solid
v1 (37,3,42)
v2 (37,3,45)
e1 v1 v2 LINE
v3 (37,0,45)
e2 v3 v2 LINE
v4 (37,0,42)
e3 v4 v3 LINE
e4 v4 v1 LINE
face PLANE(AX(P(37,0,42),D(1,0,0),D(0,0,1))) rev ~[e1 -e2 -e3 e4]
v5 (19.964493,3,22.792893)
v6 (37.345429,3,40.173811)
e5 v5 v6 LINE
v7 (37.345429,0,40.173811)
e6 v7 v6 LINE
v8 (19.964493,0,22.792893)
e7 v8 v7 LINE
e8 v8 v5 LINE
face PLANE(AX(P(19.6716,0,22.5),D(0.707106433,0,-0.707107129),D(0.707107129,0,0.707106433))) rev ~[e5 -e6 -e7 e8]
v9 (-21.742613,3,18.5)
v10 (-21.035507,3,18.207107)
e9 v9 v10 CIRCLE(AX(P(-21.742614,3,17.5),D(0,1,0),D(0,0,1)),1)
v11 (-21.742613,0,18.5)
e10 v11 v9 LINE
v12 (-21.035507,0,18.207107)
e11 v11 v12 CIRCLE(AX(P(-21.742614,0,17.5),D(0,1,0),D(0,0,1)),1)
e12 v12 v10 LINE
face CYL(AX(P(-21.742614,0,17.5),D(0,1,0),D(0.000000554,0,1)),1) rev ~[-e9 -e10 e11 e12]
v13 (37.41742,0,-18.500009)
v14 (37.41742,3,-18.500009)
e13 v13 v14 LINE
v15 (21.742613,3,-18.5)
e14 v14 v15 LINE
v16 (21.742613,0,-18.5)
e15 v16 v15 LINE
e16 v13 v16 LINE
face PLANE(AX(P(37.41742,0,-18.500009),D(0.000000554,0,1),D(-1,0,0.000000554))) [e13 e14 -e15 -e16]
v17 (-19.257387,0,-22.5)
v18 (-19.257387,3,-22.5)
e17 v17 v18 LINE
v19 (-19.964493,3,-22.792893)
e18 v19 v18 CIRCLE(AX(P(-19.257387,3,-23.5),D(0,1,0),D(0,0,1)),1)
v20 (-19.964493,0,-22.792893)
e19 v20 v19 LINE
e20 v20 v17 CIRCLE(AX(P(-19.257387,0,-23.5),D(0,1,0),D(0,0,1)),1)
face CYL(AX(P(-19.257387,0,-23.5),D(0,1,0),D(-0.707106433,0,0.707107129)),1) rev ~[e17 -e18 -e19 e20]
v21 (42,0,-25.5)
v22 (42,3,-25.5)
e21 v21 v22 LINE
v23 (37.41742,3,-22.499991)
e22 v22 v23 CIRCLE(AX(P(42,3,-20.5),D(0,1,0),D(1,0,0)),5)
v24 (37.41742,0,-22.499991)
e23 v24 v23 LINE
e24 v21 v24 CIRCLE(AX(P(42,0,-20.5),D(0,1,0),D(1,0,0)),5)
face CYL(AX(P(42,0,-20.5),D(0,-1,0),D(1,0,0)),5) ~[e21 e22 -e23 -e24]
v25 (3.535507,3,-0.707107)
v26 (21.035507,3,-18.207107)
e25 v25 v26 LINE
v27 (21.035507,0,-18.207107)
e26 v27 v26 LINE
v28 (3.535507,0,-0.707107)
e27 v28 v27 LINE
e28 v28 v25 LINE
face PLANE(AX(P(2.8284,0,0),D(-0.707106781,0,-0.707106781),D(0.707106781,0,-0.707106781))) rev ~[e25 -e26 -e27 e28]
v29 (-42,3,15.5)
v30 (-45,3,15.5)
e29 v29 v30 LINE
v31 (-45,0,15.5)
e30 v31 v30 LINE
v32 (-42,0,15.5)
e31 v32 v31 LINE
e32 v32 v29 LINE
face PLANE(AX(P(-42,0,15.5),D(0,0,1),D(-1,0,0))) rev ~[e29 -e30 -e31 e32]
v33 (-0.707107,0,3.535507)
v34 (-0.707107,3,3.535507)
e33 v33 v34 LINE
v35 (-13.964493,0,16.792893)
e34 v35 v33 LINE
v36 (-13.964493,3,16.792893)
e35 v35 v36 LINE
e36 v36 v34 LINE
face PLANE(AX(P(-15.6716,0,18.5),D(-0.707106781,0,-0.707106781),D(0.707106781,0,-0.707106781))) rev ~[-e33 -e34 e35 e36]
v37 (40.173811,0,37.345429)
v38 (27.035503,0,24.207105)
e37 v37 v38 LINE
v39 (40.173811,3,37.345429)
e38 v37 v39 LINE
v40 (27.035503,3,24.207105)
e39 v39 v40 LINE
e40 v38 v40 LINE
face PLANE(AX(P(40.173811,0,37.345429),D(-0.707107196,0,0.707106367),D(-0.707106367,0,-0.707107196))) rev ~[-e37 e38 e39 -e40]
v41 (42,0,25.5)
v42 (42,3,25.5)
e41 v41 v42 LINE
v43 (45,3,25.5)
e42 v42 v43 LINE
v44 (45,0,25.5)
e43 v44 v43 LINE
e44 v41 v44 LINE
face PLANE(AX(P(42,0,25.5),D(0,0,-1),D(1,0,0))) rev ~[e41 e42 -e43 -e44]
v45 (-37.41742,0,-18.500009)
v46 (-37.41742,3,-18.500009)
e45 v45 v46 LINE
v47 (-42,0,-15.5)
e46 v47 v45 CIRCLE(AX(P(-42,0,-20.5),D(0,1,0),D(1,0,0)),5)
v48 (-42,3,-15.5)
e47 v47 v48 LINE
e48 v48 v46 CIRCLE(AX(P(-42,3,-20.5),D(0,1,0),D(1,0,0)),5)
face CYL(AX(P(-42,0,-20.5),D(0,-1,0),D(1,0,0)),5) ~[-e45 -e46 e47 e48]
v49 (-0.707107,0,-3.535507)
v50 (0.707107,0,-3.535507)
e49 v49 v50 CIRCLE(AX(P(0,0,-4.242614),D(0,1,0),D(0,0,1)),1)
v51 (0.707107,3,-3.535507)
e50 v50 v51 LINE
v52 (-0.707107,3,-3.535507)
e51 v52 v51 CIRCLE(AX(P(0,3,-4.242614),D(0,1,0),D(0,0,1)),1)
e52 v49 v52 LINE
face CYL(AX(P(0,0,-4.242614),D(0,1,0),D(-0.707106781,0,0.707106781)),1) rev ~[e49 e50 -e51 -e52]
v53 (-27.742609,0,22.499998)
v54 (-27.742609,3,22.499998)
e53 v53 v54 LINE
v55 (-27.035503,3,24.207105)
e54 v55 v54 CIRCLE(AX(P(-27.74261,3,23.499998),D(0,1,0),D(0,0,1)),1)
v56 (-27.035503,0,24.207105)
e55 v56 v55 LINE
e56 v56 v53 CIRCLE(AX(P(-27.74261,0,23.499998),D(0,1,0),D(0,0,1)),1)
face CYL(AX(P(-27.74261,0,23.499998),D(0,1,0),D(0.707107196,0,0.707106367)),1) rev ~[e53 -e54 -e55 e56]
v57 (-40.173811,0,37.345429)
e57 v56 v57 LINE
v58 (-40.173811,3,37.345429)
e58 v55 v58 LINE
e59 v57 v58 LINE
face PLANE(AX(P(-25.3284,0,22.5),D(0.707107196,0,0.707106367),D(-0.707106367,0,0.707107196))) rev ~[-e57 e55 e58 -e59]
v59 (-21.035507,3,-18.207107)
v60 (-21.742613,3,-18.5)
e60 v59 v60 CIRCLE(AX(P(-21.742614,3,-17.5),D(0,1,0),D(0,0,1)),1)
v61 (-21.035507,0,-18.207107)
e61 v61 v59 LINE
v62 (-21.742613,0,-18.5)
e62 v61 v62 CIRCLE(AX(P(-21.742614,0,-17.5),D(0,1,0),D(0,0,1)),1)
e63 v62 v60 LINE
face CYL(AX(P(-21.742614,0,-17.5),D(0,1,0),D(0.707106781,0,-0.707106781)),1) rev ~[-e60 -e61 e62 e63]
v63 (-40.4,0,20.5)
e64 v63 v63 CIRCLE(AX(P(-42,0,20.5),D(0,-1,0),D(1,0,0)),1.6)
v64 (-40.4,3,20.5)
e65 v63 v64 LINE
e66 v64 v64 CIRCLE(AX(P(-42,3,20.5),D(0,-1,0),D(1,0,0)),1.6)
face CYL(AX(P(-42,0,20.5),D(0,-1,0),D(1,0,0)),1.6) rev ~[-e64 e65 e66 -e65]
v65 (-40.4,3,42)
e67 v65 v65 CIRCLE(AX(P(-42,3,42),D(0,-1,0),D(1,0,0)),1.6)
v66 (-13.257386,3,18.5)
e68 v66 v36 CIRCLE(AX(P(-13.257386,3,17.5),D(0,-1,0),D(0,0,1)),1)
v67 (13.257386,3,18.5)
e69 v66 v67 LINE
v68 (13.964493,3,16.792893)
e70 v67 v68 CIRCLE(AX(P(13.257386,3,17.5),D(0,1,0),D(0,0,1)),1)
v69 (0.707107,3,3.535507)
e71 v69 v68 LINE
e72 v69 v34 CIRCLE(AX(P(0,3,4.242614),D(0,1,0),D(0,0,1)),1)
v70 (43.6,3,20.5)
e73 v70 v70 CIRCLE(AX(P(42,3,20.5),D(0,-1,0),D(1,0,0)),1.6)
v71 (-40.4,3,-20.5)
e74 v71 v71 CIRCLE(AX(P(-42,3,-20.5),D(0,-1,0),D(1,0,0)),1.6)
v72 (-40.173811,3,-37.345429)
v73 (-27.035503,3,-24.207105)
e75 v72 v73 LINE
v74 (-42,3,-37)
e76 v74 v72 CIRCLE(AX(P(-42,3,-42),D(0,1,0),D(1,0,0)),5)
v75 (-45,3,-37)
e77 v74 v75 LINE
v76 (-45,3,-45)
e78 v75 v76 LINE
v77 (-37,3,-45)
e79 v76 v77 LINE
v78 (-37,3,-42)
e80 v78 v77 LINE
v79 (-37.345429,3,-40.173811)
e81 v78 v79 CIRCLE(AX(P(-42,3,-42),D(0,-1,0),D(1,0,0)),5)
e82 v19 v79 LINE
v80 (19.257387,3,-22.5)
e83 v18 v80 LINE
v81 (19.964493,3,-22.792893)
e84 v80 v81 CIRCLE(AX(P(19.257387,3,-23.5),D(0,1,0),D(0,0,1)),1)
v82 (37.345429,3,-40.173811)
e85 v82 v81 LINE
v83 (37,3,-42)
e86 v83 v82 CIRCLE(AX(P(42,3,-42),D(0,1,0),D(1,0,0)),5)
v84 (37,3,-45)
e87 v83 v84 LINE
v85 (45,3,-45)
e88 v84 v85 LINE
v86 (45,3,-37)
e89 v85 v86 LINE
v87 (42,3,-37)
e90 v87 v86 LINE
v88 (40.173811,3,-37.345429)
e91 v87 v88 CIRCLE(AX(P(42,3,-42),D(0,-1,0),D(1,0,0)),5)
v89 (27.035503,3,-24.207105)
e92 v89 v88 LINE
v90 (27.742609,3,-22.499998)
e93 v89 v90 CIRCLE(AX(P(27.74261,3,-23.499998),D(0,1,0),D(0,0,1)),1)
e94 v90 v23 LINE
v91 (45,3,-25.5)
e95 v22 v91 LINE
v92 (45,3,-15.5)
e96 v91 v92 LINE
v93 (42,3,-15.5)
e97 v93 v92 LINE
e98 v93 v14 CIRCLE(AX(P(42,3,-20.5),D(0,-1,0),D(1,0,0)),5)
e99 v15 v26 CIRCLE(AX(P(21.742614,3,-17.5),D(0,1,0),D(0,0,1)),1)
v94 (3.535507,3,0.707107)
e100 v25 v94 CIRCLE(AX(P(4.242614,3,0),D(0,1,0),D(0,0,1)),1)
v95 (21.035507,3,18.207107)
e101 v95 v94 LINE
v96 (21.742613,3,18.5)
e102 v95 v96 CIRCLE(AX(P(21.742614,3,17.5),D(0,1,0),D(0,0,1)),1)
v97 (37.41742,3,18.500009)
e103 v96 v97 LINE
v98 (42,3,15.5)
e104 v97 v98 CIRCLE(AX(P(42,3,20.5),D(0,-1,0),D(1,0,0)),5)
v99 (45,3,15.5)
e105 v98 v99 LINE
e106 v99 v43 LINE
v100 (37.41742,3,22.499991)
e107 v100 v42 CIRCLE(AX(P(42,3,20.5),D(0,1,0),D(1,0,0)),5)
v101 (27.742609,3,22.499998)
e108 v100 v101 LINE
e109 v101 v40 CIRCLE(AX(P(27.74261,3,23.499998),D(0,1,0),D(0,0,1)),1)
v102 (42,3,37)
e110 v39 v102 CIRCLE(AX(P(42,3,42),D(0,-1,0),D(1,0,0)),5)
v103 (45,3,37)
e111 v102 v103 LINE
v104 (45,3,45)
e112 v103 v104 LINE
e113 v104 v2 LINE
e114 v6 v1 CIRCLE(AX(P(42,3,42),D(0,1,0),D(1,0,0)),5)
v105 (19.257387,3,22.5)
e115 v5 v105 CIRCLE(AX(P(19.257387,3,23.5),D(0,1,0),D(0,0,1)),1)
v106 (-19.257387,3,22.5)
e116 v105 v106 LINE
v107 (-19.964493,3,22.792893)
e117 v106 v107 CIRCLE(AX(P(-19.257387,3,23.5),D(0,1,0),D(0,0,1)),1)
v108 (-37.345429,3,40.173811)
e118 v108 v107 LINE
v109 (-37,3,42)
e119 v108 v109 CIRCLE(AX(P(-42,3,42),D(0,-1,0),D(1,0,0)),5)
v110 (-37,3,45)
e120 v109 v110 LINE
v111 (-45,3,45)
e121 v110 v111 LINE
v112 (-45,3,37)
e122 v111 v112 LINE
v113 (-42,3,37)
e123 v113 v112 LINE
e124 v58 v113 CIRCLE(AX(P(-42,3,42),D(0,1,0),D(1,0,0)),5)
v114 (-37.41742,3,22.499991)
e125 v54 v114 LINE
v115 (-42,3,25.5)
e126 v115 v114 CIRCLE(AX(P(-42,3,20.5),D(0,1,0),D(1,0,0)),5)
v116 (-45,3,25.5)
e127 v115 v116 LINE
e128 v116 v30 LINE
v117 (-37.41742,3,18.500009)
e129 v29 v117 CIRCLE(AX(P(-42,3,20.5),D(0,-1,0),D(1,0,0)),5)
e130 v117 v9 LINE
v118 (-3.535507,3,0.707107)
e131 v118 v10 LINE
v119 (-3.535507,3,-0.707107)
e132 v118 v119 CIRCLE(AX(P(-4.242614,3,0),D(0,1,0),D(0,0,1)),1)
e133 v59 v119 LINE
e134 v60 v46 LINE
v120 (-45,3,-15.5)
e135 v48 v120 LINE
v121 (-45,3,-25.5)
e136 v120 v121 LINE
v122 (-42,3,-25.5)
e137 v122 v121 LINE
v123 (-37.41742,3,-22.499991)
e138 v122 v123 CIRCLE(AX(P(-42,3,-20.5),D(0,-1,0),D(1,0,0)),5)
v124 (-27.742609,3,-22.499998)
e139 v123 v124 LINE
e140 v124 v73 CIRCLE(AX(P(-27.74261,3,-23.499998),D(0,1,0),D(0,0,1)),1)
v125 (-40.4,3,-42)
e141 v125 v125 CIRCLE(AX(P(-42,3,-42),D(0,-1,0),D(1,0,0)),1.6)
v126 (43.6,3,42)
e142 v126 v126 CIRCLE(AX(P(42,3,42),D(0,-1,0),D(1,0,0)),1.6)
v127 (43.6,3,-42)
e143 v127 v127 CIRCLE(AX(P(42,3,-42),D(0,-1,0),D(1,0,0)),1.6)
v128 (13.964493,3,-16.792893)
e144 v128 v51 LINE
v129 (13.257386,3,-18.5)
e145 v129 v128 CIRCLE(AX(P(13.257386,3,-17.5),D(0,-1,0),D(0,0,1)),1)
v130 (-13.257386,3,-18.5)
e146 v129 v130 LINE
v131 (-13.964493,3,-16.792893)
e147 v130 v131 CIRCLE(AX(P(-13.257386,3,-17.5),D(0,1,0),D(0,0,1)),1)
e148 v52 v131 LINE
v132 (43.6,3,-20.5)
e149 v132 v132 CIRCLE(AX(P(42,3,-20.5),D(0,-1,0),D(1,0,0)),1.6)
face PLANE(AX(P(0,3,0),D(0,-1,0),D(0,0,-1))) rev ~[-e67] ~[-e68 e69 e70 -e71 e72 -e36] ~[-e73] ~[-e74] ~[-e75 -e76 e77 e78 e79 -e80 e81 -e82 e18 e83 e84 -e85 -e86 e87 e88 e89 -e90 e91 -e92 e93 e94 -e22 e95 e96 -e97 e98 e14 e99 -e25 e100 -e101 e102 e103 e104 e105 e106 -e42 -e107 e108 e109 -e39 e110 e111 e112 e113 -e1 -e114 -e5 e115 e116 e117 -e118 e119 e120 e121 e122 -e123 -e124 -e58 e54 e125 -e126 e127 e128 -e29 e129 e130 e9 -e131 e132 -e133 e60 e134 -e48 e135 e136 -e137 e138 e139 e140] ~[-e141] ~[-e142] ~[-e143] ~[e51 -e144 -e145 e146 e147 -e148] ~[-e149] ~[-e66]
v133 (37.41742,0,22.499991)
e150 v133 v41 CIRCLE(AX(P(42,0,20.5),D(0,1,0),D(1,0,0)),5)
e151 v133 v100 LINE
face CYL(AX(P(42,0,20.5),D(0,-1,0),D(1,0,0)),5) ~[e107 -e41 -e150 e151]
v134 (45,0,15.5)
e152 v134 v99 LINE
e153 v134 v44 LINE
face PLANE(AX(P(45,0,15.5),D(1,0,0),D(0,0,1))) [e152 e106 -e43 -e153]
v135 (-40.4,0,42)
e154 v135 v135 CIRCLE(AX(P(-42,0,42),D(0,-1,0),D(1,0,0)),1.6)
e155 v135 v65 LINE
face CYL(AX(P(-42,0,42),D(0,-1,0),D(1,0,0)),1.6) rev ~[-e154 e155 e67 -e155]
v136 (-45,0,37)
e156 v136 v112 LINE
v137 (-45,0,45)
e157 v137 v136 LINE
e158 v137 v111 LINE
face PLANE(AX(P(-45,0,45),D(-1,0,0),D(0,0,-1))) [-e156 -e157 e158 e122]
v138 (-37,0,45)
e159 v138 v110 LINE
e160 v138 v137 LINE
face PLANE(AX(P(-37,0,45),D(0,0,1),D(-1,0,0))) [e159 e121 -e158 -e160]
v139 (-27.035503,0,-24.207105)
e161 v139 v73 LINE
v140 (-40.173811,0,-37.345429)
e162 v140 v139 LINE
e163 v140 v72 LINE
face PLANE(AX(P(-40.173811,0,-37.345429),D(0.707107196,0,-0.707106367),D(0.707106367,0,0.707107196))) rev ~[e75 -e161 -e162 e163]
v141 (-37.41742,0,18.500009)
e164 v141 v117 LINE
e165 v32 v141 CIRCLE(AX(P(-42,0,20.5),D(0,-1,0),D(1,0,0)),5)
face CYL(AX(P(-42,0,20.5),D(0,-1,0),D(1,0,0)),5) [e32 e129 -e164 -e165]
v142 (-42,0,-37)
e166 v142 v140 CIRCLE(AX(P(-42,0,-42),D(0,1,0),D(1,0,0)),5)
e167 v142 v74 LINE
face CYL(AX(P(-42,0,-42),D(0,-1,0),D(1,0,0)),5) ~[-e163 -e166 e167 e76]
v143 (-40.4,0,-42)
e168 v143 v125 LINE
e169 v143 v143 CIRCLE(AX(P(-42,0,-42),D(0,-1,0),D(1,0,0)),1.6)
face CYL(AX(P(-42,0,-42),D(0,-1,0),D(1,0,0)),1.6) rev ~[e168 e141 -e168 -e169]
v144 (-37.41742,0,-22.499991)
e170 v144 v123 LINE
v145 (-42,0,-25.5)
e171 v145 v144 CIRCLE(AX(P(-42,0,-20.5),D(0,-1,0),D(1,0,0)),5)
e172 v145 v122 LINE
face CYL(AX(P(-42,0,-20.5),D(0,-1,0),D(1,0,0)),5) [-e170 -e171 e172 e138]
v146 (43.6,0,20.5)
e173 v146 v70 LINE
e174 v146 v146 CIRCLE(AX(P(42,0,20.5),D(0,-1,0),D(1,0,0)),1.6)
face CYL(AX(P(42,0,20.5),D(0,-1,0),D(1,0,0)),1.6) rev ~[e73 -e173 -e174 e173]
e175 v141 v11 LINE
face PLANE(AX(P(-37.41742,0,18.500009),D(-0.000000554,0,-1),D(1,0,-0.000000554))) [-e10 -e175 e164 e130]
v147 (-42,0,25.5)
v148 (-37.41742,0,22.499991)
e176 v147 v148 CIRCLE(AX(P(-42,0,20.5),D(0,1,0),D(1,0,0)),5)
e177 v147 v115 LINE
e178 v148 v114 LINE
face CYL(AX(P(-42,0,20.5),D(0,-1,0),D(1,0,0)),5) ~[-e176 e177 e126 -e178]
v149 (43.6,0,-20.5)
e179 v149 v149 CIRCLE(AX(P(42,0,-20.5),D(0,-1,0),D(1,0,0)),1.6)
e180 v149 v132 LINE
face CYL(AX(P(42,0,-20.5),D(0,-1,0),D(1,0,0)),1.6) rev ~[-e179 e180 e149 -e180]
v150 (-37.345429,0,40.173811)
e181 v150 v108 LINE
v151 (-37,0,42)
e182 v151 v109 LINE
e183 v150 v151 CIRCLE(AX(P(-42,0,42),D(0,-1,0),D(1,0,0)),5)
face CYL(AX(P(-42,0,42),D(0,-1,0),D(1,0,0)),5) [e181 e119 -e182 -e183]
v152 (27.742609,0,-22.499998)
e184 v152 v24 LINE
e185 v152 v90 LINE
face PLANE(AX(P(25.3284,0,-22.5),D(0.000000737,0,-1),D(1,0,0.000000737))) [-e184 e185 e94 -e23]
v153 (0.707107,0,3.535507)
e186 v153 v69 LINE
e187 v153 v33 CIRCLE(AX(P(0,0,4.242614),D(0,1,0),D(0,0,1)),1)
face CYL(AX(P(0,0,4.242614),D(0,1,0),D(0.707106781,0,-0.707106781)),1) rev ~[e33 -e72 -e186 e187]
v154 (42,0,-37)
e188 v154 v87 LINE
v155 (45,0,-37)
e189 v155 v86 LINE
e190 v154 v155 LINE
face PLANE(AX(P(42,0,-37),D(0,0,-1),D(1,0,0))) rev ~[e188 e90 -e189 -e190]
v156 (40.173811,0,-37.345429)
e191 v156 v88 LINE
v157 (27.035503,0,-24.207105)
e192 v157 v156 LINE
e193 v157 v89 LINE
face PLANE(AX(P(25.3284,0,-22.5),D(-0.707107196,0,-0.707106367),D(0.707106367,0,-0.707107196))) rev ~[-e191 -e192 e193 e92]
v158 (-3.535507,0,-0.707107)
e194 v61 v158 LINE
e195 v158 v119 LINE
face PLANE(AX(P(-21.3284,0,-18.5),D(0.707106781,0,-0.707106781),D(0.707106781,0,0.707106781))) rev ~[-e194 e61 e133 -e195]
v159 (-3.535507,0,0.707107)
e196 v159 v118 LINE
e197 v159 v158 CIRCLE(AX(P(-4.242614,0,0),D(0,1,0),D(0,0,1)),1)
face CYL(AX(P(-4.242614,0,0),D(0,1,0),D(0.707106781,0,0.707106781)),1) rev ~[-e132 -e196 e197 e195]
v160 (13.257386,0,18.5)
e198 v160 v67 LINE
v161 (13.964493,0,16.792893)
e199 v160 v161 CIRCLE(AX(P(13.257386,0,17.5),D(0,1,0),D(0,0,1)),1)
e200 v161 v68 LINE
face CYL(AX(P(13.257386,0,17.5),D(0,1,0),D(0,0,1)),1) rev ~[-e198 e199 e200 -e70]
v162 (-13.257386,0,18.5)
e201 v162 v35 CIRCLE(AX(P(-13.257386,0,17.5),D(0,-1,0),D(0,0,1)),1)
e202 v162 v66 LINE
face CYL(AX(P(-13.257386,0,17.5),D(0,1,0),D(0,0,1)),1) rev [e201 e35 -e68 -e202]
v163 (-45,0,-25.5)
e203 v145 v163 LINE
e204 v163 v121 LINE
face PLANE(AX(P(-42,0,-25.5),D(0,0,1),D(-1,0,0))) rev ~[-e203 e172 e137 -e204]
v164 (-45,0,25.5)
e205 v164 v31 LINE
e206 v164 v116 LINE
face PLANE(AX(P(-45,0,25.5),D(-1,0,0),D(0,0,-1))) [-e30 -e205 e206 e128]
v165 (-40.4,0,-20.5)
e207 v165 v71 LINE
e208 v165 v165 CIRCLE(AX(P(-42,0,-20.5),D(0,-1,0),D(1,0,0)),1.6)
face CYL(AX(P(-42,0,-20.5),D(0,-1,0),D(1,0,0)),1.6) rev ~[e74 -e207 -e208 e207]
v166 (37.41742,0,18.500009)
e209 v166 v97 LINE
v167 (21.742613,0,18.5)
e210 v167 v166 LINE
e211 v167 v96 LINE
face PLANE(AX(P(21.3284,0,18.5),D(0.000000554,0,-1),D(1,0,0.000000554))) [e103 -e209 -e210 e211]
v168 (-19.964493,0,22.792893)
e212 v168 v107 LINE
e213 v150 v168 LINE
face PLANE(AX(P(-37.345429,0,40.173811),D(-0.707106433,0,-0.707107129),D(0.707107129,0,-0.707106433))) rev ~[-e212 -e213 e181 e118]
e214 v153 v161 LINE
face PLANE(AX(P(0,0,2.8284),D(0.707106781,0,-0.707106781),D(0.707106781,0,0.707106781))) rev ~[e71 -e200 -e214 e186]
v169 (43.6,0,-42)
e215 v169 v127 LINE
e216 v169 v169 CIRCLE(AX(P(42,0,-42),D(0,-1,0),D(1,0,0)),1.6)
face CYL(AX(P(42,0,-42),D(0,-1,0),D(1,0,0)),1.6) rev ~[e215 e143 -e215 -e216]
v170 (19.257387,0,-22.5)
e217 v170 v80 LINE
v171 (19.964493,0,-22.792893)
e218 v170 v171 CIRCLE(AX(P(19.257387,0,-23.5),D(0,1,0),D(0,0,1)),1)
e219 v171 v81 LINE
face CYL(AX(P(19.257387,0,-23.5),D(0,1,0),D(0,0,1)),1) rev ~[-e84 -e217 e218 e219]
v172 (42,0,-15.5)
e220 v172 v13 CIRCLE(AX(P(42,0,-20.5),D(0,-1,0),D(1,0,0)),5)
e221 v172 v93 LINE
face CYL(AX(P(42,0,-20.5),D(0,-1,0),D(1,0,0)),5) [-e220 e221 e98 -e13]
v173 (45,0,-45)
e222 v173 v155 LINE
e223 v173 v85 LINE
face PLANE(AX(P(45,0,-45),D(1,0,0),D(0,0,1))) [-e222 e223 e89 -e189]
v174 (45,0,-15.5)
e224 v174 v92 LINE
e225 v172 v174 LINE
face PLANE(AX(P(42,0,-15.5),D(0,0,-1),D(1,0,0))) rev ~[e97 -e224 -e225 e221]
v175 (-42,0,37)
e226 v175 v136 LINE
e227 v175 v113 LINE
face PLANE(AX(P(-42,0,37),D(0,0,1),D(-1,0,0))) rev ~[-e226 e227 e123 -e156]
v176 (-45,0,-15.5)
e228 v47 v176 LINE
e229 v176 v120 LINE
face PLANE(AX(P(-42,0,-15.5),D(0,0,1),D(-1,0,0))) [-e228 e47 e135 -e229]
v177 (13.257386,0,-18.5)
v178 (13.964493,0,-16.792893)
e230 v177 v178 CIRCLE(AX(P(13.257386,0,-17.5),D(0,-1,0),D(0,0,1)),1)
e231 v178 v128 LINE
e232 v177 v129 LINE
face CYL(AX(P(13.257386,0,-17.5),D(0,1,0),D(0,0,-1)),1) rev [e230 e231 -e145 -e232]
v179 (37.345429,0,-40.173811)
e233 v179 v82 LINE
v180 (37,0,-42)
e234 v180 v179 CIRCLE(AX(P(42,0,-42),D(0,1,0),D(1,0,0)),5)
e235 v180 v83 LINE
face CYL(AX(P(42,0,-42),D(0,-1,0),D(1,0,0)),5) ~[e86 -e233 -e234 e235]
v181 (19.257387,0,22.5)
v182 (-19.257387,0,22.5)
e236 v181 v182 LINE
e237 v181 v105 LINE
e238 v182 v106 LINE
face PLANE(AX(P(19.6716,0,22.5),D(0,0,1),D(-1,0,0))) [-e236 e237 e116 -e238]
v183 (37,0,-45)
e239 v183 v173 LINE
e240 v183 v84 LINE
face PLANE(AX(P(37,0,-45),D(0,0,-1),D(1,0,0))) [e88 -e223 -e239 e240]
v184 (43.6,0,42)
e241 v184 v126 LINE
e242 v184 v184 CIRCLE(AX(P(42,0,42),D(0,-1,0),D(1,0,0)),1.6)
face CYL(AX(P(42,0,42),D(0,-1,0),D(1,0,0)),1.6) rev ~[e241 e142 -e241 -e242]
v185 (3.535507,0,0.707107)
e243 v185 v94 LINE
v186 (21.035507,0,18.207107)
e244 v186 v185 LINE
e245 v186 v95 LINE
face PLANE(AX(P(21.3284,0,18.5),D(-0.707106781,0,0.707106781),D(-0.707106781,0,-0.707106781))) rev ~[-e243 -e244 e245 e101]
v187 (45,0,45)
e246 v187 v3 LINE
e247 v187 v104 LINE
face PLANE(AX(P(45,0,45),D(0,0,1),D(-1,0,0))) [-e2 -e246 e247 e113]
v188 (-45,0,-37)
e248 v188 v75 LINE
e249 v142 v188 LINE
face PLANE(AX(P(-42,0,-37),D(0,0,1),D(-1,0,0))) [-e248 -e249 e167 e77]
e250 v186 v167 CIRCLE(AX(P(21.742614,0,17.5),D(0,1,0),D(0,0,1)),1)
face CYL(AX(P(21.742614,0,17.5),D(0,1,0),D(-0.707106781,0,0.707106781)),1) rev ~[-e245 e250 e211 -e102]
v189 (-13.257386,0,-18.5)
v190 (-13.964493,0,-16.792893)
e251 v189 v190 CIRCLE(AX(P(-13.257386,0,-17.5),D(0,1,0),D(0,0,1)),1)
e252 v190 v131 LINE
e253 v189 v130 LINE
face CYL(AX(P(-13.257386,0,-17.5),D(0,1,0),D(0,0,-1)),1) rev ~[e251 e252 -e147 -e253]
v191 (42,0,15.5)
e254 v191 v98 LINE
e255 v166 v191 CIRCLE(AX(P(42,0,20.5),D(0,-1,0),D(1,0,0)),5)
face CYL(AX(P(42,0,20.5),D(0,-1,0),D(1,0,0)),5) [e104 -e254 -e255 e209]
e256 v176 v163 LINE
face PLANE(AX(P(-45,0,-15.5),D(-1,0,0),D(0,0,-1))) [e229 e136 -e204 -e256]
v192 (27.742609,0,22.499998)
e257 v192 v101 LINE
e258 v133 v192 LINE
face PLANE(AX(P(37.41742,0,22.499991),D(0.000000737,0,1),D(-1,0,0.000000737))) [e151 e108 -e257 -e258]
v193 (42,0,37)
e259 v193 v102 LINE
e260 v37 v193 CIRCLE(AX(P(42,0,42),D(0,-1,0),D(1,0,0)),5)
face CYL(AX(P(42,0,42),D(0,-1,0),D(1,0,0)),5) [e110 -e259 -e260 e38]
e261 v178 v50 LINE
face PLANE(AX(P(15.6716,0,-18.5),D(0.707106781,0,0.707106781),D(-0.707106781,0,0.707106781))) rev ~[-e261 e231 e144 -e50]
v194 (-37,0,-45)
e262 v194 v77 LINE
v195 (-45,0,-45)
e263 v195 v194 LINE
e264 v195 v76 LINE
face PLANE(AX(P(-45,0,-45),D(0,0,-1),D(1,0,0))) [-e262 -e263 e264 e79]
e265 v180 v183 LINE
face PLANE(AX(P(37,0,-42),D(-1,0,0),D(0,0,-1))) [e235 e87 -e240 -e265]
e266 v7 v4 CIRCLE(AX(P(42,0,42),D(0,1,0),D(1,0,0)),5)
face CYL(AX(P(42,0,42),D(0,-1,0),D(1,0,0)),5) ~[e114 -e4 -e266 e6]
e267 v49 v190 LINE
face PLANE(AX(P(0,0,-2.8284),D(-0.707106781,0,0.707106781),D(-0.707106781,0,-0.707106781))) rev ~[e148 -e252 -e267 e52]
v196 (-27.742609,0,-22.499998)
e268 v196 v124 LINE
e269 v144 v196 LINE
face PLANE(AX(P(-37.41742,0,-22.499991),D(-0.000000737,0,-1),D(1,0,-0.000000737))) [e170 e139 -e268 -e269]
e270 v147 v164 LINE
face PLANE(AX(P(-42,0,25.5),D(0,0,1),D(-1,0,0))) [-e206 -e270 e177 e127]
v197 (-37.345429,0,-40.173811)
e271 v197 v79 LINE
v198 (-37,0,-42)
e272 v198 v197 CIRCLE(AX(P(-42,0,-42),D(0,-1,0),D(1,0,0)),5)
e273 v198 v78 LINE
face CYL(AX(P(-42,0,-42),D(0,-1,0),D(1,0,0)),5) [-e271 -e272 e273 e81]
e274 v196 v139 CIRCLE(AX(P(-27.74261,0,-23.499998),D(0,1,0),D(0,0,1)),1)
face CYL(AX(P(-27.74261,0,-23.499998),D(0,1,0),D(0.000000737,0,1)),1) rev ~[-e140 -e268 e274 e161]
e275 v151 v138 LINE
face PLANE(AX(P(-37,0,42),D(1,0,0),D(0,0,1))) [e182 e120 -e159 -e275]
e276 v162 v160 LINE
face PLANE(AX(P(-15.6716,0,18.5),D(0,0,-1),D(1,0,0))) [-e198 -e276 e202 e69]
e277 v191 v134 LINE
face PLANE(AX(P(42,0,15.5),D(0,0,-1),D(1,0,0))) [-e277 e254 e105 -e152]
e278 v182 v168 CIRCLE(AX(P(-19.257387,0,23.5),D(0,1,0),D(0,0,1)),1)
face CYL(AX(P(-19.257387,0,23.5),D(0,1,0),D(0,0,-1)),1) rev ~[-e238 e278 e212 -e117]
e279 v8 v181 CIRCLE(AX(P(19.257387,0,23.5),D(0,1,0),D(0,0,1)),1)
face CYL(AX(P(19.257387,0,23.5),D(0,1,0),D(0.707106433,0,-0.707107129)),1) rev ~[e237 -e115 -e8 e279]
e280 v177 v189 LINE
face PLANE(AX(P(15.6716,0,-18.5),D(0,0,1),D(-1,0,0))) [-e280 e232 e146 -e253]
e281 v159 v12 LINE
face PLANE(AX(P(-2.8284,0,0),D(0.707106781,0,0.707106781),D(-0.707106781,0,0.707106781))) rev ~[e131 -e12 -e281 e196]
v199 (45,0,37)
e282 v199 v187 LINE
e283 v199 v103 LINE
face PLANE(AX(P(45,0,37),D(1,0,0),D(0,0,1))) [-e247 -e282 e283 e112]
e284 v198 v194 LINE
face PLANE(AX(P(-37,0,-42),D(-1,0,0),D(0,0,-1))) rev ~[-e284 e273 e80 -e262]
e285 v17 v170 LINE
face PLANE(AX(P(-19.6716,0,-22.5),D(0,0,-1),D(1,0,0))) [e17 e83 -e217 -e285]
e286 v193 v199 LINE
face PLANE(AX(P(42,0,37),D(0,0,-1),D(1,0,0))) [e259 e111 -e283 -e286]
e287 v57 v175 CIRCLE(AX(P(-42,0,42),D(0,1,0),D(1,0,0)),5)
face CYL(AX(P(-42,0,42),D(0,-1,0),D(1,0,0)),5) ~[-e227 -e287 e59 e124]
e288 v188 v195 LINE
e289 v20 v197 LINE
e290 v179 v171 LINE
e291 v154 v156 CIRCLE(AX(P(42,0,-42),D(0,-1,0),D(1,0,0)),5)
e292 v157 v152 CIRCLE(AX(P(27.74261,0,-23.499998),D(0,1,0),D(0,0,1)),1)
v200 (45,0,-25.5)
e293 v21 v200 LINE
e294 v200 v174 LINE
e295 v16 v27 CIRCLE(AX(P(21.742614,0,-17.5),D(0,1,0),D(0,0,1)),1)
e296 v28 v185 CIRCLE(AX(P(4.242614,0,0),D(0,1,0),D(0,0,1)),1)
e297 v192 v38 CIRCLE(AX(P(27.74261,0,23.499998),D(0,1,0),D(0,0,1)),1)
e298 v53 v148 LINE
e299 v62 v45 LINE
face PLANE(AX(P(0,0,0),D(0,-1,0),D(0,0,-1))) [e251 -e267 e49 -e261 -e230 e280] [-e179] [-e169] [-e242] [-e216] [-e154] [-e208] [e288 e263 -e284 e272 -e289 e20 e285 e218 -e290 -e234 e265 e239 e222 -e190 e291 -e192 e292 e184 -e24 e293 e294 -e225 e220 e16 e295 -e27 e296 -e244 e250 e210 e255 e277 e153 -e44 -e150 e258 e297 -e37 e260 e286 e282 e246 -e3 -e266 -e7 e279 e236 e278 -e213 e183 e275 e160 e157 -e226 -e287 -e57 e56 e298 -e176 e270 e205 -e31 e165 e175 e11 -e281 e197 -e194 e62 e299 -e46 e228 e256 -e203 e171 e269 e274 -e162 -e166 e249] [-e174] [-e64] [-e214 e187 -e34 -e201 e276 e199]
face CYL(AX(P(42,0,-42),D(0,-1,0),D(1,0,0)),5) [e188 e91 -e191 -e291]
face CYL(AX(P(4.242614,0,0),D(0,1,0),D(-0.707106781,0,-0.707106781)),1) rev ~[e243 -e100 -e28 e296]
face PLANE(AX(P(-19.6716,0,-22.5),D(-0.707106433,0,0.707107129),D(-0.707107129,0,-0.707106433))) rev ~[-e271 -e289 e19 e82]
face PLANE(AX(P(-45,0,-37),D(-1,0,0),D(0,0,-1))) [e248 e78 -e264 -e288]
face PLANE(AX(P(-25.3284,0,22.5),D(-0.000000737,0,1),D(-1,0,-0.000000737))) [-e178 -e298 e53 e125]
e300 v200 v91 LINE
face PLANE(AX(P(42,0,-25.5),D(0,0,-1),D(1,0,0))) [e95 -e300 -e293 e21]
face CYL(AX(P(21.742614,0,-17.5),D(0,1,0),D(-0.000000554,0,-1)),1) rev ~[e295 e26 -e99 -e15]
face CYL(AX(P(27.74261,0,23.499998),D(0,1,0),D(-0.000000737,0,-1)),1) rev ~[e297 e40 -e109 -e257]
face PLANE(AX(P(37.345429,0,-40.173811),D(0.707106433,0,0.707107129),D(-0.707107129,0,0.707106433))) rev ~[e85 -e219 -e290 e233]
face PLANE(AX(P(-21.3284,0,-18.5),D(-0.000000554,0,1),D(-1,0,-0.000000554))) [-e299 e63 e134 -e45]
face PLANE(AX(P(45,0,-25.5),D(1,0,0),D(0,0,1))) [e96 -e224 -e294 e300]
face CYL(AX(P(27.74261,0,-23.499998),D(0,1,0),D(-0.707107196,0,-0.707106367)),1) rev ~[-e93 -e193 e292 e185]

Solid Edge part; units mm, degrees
sketch "Sketch1" plane through (0, 0, 0) normal (0, -1, 0) x (1, 0, 0)
  line L0 (-45, -45) -> (-37, -45)
  line L1 (-37, -42) -> (-37, -45)
  line L2 (-19.6716, -22.5) -> (-37.3454, -40.1738)
  line L3 (-19.6716, -22.5) -> (19.6716, -22.5)
  line L4 (37.3454, -40.1738) -> (19.6716, -22.5)
  arc A0 (37, -42) -> (37.3454, -40.1738) centre (42, -42) cw
  line L5 (37, -42) -> (37, -45)
  line L6 (37, -45) -> (45, -45)
  line L7 (45, -45) -> (45, -37)
  line L8 (42, -37) -> (45, -37)
  line L9 (25.3284, -22.5) -> (40.1738, -37.3454)
  line L10 (25.3284, -22.5) -> (37.4174, -22.5)
  arc A1 (42, -25.5) -> (37.4174, -22.5) centre (42, -20.5) cw
  line L11 (42, -25.5) -> (45, -25.5)
  line L12 (45, -25.5) -> (45, -15.5)
  line L13 (42, -15.5) -> (45, -15.5)
  line L14 (37.4174, -18.5) -> (21.3284, -18.5)
  line L15 (2.8284, 0) -> (21.3284, -18.5)
  line L16 (21.3284, 18.5) -> (2.8284, 0)
  line L17 (21.3284, 18.5) -> (37.4174, 18.5)
  line L18 (42, 15.5) -> (45, 15.5)
  line L19 (45, 15.5) -> (45, 25.5)
  line L20 (42, 25.5) -> (45, 25.5)
  arc A2 (37.4174, 22.5) -> (42, 25.5) centre (42, 20.5) cw
  line L21 (37.4174, 22.5) -> (25.3284, 22.5)
  line L22 (40.1738, 37.3454) -> (25.3284, 22.5)
  line L23 (42, 37) -> (45, 37)
  line L24 (45, 37) -> (45, 45)
  line L25 (45, 45) -> (37, 45)
  line L26 (37, 42) -> (37, 45)
  arc A3 (37.3454, 40.1738) -> (37, 42) centre (42, 42) cw
  line L27 (19.6716, 22.5) -> (37.3454, 40.1738)
  line L28 (19.6716, 22.5) -> (-19.6716, 22.5)
  line L29 (-37.3454, 40.1738) -> (-19.6716, 22.5)
  line L30 (-37, 42) -> (-37, 45)
  line L31 (-37, 45) -> (-45, 45)
  line L32 (-45, 45) -> (-45, 37)
  line L33 (-42, 37) -> (-45, 37)
  arc A4 (-40.1738, 37.3454) -> (-42, 37) centre (-42, 42) cw
  line L34 (-25.3284, 22.5) -> (-40.1738, 37.3454)
  line L35 (-25.3284, 22.5) -> (-37.4174, 22.5)
  arc A5 (-42, 25.5) -> (-37.4174, 22.5) centre (-42, 20.5) cw
  line L36 (-42, 25.5) -> (-45, 25.5)
  line L37 (-45, 25.5) -> (-45, 15.5)
  line L38 (-42, 15.5) -> (-45, 15.5)
  line L39 (-37.4174, 18.5) -> (-21.3284, 18.5)
  line L40 (-2.8284, 0) -> (-21.3284, 18.5)
  line L41 (-21.3284, -18.5) -> (-2.8284, 0)
  line L42 (-21.3284, -18.5) -> (-37.4174, -18.5)
  arc A6 (-42, -15.5) -> (-37.4174, -18.5) centre (-42, -20.5) cw
  line L43 (-42, -15.5) -> (-45, -15.5)
  line L44 (-45, -15.5) -> (-45, -25.5)
  line L45 (-42, -25.5) -> (-45, -25.5)
  line L46 (-37.4174, -22.5) -> (-25.3284, -22.5)
  line L47 (-40.1738, -37.3454) -> (-25.3284, -22.5)
  arc A7 (-42, -37) -> (-40.1738, -37.3454) centre (-42, -42) cw
  line L48 (-42, -37) -> (-45, -37)
  line L49 (-45, -37) -> (-45, -45)
  arc A8 (-37, -42) -> (-37.3454, -40.1738) centre (-42, -42) ccw
  arc A9 (42, -37) -> (40.1738, -37.3454) centre (42, -42) ccw
  arc A10 (42, -15.5) -> (37.4174, -18.5) centre (42, -20.5) ccw
  arc A11 (37.4174, 18.5) -> (42, 15.5) centre (42, 20.5) ccw
  arc A12 (40.1738, 37.3454) -> (42, 37) centre (42, 42) ccw
  arc A13 (-37.3454, 40.1738) -> (-37, 42) centre (-42, 42) ccw
  arc A14 (-42, 15.5) -> (-37.4174, 18.5) centre (-42, 20.5) ccw
  arc A15 (-42, -25.5) -> (-37.4174, -22.5) centre (-42, -20.5) ccw
  circle A16 centre (-42, -42) radius 1.6
  circle A17 centre (42, -42) radius 1.6
  circle A18 centre (42, -20.5) radius 1.6
  circle A19 centre (-42, -20.5) radius 1.6
  circle A20 centre (-42, 20.5) radius 1.6
  circle A21 centre (-42, 42) radius 1.6
  circle A22 centre (42, 42) radius 1.6
  circle A23 centre (42, 20.5) radius 1.6
  line L50 (-15.6716, 18.5) -> (15.6716, 18.5)
  line L51 (0, 2.8284) -> (15.6716, 18.5)
  line L52 (-15.6716, 18.5) -> (0, 2.8284)
  line L53 (15.6716, -18.5) -> (-15.6716, -18.5)
  line L54 (0, -2.8284) -> (-15.6716, -18.5)
  line L55 (15.6716, -18.5) -> (0, -2.8284)
  dimension "D1" = 57.5
  dimension "D2" = 3
  dimension "D3" = 21.5
  dimension "D4" = 62.5
  dimension "D5" = 84
  dimension "D6" = 84
extrude "Protrusion1" add sketch "Sketch1" against normal blind 3
fillet "Round1" radius 1 20 edges at (-19.6716, 1.5, 22.5) (-25.3284, 1.5, 22.5) (19.6716, 1.5, 22.5) (25.3284, 1.5, 22.5) (21.3284, 1.5, 18.5) (15.6716, 1.5, 18.5) (-15.6716, 1.5, 18.5) (0, 1.5, 2.8284) (21.3284, 1.5, -18.5) (2.8284, 1.5, 0) (-2.8284, 1.5, 0) (19.6716, 1.5, -22.5) (-19.6716, 1.5, -22.5) (-15.6716, 1.5, -18.5) (0, 1.5, -2.8284) (15.6716, 1.5, -18.5) (25.3284, 1.5, -22.5) (-25.3284, 1.5, -22.5) (-21.3284, 1.5, -18.5) (-21.3284, 1.5, 18.5)
